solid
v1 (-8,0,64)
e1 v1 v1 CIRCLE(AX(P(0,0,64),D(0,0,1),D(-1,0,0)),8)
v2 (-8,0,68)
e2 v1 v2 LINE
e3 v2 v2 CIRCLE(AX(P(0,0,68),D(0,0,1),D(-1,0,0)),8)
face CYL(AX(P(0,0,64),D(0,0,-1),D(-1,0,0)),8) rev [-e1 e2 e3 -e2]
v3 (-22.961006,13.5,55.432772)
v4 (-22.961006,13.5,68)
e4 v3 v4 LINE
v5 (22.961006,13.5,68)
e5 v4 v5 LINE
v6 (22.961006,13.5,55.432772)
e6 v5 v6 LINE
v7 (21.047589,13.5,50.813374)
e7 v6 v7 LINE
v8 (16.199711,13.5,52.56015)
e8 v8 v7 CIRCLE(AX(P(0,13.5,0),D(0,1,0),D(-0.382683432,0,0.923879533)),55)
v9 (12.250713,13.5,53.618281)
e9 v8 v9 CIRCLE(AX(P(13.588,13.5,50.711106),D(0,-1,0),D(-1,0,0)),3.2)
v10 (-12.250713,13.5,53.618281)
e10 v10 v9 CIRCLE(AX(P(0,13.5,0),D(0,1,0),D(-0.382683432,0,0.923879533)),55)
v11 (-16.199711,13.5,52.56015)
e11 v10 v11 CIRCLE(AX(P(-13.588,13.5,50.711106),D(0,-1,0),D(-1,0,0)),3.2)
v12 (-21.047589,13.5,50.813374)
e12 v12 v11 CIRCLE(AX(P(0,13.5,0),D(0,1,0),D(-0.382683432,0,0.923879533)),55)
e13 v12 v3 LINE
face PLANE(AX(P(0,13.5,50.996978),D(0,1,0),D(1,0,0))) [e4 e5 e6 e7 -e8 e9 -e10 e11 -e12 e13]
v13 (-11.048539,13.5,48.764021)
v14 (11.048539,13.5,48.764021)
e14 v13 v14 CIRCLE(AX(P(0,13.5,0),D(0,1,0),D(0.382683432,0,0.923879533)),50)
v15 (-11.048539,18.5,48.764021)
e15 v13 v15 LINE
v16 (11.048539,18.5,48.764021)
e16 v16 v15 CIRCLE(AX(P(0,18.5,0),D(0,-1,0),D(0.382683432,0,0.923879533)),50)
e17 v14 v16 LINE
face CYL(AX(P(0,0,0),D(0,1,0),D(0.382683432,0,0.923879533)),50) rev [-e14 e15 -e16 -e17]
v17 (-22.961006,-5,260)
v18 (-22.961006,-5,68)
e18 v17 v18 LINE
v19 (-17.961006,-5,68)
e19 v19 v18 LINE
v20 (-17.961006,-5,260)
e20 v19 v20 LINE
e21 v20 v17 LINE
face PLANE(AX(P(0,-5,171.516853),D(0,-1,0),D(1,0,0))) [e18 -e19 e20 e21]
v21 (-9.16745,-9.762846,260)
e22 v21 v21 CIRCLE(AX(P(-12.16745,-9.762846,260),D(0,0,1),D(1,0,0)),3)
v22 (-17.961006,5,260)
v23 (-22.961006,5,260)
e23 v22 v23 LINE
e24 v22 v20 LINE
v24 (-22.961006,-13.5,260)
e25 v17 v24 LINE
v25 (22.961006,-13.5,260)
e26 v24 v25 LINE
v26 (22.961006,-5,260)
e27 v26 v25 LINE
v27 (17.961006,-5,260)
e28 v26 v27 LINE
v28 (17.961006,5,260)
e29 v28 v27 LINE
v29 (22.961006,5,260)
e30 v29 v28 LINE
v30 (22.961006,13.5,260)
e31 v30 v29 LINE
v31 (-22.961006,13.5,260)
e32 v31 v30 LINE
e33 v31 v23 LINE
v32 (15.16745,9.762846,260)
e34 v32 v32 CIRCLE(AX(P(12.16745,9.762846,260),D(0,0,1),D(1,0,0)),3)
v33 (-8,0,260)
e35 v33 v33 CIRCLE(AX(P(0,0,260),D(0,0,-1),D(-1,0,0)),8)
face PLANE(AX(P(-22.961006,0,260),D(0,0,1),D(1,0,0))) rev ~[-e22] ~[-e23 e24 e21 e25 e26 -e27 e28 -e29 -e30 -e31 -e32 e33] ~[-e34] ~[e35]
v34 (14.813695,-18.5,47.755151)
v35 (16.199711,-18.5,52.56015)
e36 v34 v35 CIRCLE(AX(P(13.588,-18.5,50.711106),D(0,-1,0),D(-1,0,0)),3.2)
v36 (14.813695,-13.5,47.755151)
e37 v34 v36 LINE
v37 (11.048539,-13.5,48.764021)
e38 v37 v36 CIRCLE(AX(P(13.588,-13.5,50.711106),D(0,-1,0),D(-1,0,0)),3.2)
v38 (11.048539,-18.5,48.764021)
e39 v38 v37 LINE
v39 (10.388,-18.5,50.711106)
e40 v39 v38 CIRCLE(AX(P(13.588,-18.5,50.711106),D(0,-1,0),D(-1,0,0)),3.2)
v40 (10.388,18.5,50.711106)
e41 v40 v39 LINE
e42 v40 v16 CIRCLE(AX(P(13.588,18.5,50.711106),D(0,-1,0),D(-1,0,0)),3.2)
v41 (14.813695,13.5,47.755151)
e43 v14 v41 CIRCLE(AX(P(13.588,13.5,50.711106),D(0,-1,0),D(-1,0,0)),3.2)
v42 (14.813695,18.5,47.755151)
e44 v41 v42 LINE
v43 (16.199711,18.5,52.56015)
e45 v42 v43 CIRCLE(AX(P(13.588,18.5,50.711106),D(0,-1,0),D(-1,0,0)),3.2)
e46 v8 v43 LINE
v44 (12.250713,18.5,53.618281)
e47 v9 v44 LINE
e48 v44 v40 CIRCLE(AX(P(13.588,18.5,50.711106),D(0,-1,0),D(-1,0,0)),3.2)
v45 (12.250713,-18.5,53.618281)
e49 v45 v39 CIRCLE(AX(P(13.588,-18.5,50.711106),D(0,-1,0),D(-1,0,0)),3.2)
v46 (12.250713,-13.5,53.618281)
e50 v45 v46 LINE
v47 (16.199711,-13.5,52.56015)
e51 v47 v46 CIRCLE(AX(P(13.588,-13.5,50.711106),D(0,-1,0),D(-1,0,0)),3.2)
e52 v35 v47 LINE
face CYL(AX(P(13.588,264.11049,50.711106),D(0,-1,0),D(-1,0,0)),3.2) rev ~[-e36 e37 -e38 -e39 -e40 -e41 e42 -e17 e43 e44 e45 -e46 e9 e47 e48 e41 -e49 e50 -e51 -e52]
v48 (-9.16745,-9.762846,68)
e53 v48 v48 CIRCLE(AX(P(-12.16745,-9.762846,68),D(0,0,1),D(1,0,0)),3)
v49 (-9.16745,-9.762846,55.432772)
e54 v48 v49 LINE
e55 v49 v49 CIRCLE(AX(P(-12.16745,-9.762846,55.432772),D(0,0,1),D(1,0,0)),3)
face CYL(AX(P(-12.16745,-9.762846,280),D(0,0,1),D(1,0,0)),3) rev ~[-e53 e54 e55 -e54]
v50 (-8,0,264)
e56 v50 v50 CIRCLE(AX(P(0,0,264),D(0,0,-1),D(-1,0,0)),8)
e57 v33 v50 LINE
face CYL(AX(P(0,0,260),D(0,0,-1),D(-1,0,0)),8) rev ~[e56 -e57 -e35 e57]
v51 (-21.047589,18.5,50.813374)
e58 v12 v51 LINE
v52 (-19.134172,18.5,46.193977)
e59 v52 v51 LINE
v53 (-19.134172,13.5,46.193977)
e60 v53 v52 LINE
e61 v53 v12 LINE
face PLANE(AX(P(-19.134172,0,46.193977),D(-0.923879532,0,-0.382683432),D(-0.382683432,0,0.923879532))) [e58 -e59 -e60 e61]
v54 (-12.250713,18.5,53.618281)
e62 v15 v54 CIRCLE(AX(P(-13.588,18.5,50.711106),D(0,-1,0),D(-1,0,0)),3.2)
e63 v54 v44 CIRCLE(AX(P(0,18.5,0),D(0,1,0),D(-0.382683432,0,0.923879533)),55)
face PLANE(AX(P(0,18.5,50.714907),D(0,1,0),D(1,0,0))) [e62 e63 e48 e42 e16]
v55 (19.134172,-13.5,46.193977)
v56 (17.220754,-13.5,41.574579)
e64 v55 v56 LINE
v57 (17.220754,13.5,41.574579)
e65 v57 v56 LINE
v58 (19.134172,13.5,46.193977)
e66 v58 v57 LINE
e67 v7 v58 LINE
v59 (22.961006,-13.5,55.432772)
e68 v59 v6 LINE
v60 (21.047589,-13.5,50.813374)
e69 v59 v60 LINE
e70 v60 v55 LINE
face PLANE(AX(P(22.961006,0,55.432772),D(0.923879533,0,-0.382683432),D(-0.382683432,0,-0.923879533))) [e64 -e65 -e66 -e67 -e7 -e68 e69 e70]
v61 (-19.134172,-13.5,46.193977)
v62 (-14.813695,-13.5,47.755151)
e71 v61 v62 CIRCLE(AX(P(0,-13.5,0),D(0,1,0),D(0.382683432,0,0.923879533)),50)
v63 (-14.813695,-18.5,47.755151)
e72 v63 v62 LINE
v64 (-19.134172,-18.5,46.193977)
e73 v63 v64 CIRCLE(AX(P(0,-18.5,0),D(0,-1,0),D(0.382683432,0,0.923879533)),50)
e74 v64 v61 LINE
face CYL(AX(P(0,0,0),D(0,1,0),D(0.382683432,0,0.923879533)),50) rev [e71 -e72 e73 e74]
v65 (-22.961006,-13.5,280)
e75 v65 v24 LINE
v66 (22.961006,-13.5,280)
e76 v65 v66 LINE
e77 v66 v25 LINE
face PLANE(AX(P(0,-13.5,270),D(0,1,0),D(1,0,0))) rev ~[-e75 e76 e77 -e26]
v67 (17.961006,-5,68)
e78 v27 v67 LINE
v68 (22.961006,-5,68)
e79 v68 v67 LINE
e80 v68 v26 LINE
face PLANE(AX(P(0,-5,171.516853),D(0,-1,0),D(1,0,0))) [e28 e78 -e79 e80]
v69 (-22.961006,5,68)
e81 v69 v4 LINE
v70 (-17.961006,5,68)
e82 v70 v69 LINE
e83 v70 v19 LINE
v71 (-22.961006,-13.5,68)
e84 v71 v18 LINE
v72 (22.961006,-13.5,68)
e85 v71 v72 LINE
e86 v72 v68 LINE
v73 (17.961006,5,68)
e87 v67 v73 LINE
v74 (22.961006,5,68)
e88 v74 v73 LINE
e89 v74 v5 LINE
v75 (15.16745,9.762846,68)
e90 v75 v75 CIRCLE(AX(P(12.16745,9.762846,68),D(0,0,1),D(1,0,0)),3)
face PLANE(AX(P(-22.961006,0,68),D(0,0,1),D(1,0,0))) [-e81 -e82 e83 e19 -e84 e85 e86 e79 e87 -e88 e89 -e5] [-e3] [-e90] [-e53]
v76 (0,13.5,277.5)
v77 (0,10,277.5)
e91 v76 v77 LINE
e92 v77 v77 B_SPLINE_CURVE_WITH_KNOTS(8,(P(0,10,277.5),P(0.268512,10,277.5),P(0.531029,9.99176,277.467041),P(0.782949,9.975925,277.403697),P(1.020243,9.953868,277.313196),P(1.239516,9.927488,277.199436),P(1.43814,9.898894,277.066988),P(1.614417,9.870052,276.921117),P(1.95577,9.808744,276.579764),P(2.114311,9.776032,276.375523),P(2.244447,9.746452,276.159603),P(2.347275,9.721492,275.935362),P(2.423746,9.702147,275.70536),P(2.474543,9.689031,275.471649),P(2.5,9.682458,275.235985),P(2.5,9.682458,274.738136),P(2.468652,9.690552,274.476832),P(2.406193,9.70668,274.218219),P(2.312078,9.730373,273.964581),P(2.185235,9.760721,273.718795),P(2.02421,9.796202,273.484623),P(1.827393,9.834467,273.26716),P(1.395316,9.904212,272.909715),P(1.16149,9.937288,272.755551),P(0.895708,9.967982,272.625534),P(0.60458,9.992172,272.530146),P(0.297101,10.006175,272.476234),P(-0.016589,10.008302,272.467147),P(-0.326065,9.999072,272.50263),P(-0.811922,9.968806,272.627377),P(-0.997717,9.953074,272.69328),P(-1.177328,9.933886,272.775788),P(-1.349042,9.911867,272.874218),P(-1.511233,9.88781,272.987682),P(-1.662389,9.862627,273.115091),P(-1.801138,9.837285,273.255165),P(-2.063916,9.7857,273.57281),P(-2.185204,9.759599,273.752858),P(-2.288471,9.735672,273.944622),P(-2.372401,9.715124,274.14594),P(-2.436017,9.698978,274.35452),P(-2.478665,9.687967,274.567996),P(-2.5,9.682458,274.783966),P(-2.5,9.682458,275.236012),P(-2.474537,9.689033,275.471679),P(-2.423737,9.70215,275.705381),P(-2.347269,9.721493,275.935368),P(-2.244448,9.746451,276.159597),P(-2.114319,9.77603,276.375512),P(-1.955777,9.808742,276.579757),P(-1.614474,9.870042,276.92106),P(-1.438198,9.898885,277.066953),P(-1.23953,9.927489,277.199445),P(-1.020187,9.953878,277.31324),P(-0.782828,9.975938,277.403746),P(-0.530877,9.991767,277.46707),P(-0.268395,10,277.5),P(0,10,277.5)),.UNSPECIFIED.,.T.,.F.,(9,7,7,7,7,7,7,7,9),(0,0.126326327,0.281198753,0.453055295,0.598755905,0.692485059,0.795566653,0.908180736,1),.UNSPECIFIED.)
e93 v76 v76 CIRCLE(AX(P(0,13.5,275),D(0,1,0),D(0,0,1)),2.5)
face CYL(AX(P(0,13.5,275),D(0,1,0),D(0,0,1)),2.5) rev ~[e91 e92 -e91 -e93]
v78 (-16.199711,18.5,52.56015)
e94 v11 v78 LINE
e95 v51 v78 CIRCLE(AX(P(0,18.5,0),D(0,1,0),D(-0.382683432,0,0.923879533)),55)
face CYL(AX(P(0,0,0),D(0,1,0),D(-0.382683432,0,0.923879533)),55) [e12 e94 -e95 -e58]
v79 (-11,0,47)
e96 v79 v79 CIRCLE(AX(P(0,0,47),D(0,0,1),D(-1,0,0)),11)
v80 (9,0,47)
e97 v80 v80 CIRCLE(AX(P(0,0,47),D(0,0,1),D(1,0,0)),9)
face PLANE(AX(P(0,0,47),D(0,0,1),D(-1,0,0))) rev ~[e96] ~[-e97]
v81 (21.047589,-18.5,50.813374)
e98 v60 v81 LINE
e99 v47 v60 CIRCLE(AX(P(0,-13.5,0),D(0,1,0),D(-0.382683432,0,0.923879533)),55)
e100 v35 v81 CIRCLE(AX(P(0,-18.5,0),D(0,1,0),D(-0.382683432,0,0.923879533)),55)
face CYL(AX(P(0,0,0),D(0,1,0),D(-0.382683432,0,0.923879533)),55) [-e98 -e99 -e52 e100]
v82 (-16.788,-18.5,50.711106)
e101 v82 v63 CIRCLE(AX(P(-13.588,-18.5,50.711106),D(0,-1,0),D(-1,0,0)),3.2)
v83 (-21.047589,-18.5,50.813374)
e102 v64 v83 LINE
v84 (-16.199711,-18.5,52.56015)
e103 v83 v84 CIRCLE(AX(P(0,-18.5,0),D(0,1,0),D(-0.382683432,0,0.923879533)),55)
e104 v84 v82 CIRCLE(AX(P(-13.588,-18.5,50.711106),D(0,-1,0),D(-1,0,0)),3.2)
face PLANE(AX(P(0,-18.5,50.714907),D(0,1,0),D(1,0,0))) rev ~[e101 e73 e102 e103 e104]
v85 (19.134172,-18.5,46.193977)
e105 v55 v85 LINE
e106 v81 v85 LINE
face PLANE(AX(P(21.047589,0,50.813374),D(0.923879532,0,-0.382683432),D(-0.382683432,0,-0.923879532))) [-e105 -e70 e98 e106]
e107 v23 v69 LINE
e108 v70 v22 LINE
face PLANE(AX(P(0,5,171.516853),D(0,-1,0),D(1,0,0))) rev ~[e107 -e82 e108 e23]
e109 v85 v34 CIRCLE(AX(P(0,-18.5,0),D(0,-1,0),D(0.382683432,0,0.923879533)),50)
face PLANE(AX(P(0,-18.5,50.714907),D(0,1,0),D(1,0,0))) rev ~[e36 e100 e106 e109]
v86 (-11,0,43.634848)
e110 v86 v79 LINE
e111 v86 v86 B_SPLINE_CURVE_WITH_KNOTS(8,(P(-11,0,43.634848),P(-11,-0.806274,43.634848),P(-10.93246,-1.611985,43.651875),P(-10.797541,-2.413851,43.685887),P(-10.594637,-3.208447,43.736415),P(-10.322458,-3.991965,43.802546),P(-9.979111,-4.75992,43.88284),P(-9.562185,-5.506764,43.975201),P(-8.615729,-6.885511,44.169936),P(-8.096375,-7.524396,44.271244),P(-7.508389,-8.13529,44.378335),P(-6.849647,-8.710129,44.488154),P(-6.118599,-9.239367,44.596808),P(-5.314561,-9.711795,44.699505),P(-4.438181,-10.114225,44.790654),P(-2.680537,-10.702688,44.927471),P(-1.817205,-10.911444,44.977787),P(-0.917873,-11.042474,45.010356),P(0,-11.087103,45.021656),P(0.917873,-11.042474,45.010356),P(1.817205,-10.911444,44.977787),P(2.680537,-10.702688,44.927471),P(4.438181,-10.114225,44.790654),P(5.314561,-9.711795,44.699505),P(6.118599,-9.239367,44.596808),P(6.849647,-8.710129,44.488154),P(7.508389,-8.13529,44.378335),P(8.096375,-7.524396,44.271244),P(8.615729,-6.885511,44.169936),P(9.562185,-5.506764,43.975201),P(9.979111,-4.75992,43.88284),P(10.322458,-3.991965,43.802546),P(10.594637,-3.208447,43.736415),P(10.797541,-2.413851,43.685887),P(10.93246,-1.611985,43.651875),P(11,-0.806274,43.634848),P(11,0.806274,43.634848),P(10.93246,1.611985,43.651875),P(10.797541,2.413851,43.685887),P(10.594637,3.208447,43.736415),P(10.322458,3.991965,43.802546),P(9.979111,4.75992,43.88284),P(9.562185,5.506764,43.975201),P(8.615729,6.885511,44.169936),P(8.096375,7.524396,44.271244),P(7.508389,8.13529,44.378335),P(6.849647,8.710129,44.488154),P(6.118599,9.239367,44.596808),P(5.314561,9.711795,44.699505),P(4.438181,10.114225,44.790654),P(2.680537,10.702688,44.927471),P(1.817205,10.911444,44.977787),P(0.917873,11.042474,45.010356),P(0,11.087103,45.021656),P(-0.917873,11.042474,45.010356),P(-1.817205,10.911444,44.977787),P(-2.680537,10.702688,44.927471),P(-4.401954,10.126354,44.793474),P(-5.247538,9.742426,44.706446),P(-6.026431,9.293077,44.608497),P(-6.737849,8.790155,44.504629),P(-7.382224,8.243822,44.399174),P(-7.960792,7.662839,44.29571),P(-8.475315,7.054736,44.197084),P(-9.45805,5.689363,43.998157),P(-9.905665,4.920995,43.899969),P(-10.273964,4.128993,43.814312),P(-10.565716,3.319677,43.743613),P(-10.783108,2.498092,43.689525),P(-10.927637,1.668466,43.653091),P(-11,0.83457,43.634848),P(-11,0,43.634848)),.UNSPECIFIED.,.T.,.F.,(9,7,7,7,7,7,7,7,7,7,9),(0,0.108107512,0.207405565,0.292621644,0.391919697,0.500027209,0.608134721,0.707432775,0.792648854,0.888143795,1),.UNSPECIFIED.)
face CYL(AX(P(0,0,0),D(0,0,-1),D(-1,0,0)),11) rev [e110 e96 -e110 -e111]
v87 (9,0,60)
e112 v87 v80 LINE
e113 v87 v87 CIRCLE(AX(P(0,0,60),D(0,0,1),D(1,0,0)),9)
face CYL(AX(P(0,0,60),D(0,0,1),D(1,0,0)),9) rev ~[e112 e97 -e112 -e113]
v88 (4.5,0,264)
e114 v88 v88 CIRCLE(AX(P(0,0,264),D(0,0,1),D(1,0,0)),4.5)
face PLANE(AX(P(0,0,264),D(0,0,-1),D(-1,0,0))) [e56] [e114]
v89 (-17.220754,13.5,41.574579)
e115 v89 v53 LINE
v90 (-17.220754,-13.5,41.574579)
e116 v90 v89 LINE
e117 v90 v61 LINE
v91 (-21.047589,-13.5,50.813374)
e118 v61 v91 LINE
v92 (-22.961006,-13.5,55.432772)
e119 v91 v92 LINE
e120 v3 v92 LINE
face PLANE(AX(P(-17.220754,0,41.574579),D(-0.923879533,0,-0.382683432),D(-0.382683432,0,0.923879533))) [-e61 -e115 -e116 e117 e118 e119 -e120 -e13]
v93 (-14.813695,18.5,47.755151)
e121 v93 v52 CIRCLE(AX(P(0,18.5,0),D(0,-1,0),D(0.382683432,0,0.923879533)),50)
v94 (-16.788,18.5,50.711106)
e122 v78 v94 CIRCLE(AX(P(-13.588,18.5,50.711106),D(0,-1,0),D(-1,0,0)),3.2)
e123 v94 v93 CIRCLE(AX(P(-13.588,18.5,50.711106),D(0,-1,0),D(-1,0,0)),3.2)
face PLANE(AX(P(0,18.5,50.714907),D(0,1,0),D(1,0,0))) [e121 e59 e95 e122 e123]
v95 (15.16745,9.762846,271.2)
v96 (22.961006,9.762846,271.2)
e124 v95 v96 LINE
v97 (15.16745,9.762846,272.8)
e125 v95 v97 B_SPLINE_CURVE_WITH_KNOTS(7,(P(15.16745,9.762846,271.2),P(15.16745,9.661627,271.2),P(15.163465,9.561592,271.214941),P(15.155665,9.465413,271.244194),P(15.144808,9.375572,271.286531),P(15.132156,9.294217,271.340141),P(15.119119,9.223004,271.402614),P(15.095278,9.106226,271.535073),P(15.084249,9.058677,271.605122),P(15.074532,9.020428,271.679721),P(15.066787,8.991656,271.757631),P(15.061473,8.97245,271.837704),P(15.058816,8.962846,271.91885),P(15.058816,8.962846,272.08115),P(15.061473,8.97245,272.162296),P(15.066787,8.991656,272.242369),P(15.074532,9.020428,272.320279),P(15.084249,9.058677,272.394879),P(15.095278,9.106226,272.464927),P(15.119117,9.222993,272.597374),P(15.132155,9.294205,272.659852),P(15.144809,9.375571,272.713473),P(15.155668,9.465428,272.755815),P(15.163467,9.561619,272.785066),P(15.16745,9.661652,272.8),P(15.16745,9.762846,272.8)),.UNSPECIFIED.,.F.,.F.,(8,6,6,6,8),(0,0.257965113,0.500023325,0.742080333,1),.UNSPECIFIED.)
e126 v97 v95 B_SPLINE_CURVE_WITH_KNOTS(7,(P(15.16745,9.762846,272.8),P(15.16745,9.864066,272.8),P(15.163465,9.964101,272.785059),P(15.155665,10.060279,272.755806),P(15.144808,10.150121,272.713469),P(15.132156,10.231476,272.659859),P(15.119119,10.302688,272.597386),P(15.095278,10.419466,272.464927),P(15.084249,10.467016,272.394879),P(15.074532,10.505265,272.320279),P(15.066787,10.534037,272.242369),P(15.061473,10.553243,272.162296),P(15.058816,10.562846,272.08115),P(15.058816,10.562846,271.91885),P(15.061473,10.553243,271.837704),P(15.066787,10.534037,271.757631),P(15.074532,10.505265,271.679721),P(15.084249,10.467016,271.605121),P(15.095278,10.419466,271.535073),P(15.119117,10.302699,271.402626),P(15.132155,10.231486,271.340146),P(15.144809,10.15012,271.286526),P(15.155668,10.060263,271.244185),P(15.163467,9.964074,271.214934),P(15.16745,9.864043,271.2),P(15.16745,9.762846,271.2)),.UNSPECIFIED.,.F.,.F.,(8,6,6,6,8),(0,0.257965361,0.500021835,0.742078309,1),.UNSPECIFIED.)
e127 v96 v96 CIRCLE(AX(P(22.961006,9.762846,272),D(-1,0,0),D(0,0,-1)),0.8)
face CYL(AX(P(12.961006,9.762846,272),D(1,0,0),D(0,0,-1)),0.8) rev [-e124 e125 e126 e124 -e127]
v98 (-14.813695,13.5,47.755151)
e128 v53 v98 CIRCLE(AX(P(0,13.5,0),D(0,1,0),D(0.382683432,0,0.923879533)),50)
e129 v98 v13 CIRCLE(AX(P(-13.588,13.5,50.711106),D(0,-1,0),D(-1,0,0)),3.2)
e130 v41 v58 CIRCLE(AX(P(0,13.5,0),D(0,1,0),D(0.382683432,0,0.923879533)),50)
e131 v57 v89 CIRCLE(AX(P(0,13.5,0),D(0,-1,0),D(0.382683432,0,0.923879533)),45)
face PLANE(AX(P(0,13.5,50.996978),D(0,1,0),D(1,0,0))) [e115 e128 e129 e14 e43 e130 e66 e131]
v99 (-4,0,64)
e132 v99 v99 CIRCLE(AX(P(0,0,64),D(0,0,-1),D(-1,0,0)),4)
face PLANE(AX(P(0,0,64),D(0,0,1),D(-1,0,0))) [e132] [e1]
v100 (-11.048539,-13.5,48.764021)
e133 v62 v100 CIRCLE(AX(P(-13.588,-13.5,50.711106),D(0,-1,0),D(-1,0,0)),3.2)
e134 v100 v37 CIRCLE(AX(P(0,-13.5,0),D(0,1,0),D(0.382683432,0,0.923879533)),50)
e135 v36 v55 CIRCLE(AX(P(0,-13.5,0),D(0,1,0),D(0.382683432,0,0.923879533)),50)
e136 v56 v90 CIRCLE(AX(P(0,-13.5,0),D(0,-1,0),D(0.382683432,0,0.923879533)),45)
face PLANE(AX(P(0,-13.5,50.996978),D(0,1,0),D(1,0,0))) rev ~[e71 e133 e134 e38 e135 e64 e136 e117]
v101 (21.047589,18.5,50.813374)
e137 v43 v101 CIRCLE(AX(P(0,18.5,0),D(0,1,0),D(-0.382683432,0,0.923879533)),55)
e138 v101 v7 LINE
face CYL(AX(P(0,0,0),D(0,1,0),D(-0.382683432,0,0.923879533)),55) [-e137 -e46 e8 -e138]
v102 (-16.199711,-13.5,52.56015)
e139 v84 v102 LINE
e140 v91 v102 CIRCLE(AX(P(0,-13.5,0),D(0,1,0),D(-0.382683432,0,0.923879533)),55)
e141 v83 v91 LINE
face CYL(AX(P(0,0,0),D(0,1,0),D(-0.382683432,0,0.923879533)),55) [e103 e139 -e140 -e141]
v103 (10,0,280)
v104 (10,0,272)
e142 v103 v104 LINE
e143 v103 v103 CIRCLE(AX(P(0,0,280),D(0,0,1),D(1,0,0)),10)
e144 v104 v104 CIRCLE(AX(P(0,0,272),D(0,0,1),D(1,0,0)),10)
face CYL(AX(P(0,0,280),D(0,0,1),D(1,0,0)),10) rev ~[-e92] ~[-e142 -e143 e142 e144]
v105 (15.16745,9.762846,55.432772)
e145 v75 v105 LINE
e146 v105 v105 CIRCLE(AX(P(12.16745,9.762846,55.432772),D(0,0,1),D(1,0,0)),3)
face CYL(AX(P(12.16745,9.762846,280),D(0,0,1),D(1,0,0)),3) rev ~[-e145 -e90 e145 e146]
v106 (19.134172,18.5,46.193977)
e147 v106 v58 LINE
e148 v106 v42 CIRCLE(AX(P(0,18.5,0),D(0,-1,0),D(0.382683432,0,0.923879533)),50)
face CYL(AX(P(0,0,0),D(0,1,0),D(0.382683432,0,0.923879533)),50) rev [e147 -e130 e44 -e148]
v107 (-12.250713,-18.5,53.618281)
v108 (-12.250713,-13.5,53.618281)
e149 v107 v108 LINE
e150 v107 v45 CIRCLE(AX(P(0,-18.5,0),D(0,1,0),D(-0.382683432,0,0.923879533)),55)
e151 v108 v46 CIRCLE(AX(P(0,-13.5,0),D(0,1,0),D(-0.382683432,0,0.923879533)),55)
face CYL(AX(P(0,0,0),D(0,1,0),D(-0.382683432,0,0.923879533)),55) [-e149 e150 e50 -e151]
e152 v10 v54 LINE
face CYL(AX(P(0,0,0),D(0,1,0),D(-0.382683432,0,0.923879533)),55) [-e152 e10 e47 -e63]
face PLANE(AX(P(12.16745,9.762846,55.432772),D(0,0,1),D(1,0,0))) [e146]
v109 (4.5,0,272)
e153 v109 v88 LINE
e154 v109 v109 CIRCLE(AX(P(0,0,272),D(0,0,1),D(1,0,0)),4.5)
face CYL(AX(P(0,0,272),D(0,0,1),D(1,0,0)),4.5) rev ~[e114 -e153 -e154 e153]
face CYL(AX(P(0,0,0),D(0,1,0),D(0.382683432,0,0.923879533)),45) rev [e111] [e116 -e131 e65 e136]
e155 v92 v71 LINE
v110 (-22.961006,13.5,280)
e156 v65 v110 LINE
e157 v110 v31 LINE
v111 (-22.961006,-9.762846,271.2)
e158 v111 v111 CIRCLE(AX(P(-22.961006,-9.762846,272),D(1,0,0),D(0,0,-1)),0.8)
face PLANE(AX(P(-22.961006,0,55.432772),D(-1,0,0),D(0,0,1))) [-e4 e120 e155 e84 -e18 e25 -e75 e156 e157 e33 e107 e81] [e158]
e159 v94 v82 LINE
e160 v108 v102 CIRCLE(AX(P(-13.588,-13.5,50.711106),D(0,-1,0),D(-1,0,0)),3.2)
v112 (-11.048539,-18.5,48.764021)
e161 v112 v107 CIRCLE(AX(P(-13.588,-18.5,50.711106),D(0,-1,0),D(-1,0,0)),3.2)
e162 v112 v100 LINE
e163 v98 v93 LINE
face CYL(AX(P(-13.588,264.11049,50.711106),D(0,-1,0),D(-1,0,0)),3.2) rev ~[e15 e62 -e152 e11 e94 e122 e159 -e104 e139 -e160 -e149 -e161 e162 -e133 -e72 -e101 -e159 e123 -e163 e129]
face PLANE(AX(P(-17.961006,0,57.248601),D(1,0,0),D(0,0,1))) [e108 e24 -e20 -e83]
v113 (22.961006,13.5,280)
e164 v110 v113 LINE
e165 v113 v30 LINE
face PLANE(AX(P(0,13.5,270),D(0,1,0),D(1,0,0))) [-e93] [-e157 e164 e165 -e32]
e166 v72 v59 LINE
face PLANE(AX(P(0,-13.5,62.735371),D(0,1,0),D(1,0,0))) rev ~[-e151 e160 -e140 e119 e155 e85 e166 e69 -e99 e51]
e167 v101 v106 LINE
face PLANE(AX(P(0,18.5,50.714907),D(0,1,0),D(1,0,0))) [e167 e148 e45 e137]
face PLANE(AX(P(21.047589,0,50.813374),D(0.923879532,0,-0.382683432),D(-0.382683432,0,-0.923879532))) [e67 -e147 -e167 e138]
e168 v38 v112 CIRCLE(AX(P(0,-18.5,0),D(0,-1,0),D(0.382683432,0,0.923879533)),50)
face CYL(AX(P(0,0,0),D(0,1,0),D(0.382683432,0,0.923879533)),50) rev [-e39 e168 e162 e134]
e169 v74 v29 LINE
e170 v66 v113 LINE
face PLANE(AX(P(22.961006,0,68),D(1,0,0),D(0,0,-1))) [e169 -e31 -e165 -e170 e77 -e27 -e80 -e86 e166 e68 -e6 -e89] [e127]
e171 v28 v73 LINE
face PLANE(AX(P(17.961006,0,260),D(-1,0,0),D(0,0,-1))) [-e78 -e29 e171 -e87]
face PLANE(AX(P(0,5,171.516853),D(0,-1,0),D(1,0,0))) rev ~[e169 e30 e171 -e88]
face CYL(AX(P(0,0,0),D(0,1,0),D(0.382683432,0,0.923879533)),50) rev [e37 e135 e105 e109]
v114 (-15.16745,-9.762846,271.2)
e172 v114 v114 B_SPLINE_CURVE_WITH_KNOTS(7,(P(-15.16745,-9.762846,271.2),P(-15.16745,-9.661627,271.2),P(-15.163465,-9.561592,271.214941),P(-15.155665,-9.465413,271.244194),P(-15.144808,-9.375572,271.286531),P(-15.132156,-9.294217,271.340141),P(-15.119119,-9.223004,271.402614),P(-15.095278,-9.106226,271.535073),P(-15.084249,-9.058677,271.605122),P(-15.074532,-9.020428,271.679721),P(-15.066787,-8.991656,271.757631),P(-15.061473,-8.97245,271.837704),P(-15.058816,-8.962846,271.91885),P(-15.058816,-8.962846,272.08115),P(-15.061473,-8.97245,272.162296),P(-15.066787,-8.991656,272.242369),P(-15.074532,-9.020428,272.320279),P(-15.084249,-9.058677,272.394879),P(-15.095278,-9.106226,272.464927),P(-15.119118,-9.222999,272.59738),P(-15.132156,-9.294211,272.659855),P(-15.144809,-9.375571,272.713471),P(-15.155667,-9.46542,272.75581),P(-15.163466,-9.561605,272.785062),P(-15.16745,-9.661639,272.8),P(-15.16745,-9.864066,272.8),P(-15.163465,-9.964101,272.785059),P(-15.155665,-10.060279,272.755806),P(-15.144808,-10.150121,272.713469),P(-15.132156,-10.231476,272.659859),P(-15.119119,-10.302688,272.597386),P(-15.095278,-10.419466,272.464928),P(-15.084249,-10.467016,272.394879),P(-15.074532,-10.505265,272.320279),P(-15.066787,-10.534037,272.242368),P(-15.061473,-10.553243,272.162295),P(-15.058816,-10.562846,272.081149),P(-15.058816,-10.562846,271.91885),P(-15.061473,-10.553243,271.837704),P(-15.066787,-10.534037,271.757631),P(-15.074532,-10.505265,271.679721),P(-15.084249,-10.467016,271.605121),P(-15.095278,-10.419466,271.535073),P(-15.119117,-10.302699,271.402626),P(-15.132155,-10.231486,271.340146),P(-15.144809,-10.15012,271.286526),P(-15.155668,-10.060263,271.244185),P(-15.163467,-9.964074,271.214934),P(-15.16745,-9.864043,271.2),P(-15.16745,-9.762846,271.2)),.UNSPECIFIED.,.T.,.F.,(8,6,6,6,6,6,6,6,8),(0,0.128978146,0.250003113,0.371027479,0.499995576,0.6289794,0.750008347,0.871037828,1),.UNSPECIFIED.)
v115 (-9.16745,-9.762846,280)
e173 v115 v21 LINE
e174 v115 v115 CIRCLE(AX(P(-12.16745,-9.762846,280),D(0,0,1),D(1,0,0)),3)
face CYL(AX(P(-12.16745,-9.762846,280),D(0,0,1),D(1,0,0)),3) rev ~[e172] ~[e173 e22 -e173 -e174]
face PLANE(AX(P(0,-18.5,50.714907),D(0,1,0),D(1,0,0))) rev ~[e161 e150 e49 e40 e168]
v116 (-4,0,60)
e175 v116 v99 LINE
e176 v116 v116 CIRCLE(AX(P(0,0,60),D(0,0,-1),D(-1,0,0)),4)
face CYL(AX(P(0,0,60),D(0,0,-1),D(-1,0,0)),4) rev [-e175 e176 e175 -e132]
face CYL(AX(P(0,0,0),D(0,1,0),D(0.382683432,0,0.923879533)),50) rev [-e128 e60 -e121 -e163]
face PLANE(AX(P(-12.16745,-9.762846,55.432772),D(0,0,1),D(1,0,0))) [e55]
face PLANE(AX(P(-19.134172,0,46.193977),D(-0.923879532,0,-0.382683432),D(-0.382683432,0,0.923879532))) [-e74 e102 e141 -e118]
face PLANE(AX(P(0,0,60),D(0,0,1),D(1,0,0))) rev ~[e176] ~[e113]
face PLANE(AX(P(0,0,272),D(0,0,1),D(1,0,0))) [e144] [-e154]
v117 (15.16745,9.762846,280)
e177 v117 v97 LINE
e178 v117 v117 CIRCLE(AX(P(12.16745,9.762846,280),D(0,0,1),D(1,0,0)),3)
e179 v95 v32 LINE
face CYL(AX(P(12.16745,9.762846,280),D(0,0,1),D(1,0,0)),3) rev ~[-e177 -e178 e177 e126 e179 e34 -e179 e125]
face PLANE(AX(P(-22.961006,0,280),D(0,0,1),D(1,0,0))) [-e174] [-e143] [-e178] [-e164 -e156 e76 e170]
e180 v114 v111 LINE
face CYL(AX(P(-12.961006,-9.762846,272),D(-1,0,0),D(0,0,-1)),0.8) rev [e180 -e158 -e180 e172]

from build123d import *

# Parameters (mm, degrees)
BOSS_EXTRUDE1_DEPTH      = 13.5
BOSS_EXTRUDE2_DEPTH      = 18.5
BOSS_EXTRUDE3_DEPTH      = 5
SKETCH4_W                = 45.922011884
SKETCH4_H                = 20
BOSS_EXTRUDE4_DEPTH      = 13.5
SKETCH2_R                = 4
CUT_EXTRUDE1_DEPTH       = 282.548322307
SKETCH5_R                = 8
CUT_EXTRUDE2_DEPTH       = 4
SKETCH6_R                = 10
CUT_EXTRUDE3_DEPTH       = 8
BOSS_EXTRUDE5_DEPTH      = 13.5
CUT_EXTRUDE5_REACH       = 223.967
CUT_EXTRUDE5_END_RADIUS  = 45
SKETCH8_R                = 9
CUT_EXTRUDE6_REACH       = 223.967
SKETCH10_R               = 4
CUT_EXTRUDE7_START       = -4
SKETCH11_R               = 8
CUT_EXTRUDE7_DEPTH       = 4
SKETCH15_R               = 3
CUT_EXTRUDE8_DEPTH       = 224.567228
M6_CLEARANCE_HOLE1_D     = 6.4
CUT_EXTRUDE9_REACH       = 234.304
SKETCH20_R               = 4.5
CIRPATTERN1_COUNT        = 2
CUT_EXTRUDE10_REACH      = 284.756
CUT_EXTRUDE10_END_RADIUS = 10
SKETCH21_R               = 2.5
SKETCH22_R               = 11
CUT_EXTRUDE11_DEPTH      = 47


with BuildPart() as part:
    # Sketch1 → Boss-Extrude1 (new, symmetric)
    with BuildSketch(Plane(origin=(0, 0, 0), x_dir=(1, 0, 0), z_dir=(0, 1, 0))):
        with BuildLine():
            ThreePointArc((17.220754456, -41.574578963), (0, -45), (-17.220754456, -41.574578963))
            Line((-17.220754456, -41.574578963), (-22.961005942, -55.432771951))
            ThreePointArc((-22.961005942, -55.432771951), (0, -60), (22.961005942, -55.432771951))
            Line((22.961005942, -55.432771951), (17.220754456, -41.574578963))
        make_face()
    extrude(amount=BOSS_EXTRUDE1_DEPTH, both=True)

    # Sketch1<3> → Boss-Extrude2 (add, symmetric)
    with BuildSketch(Plane(origin=(0, 0, 0), x_dir=(1, 0, 0), z_dir=(0, 1, 0))):
        with BuildLine():
            ThreePointArc((19.134171618, -46.193976626), (0, -50), (-19.134171618, -46.193976626))
            Line((-19.134171618, -46.193976626), (-21.04758878, -50.813374288))
            ThreePointArc((-21.04758878, -50.813374288), (0, -55), (21.04758878, -50.813374288))
            Line((21.04758878, -50.813374288), (19.134171618, -46.193976626))
        make_face()
    extrude(amount=BOSS_EXTRUDE2_DEPTH, both=True)

    # Sketch3 → Boss-Extrude3 (add, symmetric)
    with BuildSketch(Plane.XZ):
        with BuildLine():
            Line((-22.961005942, 280), (-22.961005942, 55.432771951))
            ThreePointArc((-22.961005942, 55.432771951), (-20.481139434, 56.39612511), (-17.961005942, 57.248600555))
            Line((-17.961005942, 57.248600555), (-17.961005942, 260))
            Line((-17.961005942, 260), (17.961005942, 260))
            Line((17.961005942, 260), (17.961005942, 57.248600555))
            ThreePointArc((17.961005942, 57.248600555), (20.481139434, 56.39612511), (22.961005942, 55.432771951))
            Line((22.961005942, 55.432771951), (22.961005942, 280))
            Line((22.961005942, 280), (-22.961005942, 280))
        make_face()
    extrude(amount=BOSS_EXTRUDE3_DEPTH, both=True)

    # Sketch4 → Boss-Extrude4 (add, symmetric)
    with BuildSketch(Plane(origin=(0, 0, 0), x_dir=(1, 0, 0), z_dir=(0, 1, 0))):
        with Locations((0, -270)):
            Rectangle(SKETCH4_W, SKETCH4_H)
    extrude(amount=BOSS_EXTRUDE4_DEPTH, both=True)

    # Sketch2 → Cut-Extrude1 (cut, through all)
    with BuildSketch(Plane.XY):
        with Locations(Location((0, 0, 0), (0, 0, 180))):
            Circle(SKETCH2_R)
    extrude(amount=CUT_EXTRUDE1_DEPTH, mode=Mode.SUBTRACT)

    # Sketch5 → Cut-Extrude2 (cut)
    with BuildSketch(Plane(origin=(0, 0, 260), x_dir=(-1, 0, 0), z_dir=(0, 0, -1))):
        Circle(SKETCH5_R)
    extrude(amount=-CUT_EXTRUDE2_DEPTH, mode=Mode.SUBTRACT)

    # Sketch6 → Cut-Extrude3 (cut)
    with BuildSketch(Plane.XY.offset(280)):
        Circle(SKETCH6_R)
    extrude(amount=-CUT_EXTRUDE3_DEPTH, mode=Mode.SUBTRACT)

    # Sketch9 → Boss-Extrude5 (add, symmetric)
    with BuildSketch(Plane(origin=(0, 0, 0), x_dir=(1, 0, 0), z_dir=(0, 1, 0))):
        with BuildLine():
            Line((-22.961005942, -55.432771951), (-22.961005942, -68))
            Line((-22.961005942, -68), (22.961005942, -68))
            Line((22.961005942, -68), (22.961005942, -55.432771951))
            ThreePointArc((22.961005942, -55.432771951), (0, -60), (-22.961005942, -55.432771951))
        make_face()
    extrude(amount=BOSS_EXTRUDE5_DEPTH, both=True)

    # Cut-Extrude5: up to this cylinder (the profile starts outside it)
    cut_extrude5_end = Plane(origin=(0, 0, 0), z_dir=(0, -1, 0)) * Cylinder(CUT_EXTRUDE5_END_RADIUS, 538.934, mode=Mode.PRIVATE)
    # Sketch8 → Cut-Extrude5 (cut, up to the surface)
    with BuildSketch(Plane.XY.offset(60), mode=Mode.PRIVATE) as cut_extrude5_sk1:
        Circle(SKETCH8_R)
    cut_extrude5_tool1 = extrude(cut_extrude5_sk1.sketch, amount=-CUT_EXTRUDE5_REACH, mode=Mode.PRIVATE) - cut_extrude5_end
    add(cut_extrude5_tool1.solids().sort_by_distance((0, 0, 60))[0], mode=Mode.SUBTRACT)

    # Sketch10 → Cut-Extrude6 (cut, up to next)
    with BuildSketch(Plane.XY.offset(60), mode=Mode.PRIVATE) as cut_extrude6_sk1:
        with Locations(Location((0, 0, 0), (0, 0, 180))):
            Circle(SKETCH10_R)
    cut_extrude6_tool1 = extrude(cut_extrude6_sk1.sketch, amount=CUT_EXTRUDE6_REACH, mode=Mode.PRIVATE) & part.part
    add(cut_extrude6_tool1.solids().sort_by_distance((0, 0, 60))[0], mode=Mode.SUBTRACT)

    # Sketch11 → Cut-Extrude7 (cut)
    with BuildSketch(Plane.XY.offset(68).offset(CUT_EXTRUDE7_START)):
        with Locations(Location((0, 0, 0), (0, 0, 180))):
            Circle(SKETCH11_R)
    extrude(amount=CUT_EXTRUDE7_DEPTH, mode=Mode.SUBTRACT)

    # Sketch15 → Cut-Extrude8 (cut)
    with BuildSketch(Plane.XY.offset(280)):
        with Locations((-12.167449647, -9.762846361)):
            Circle(SKETCH15_R)
        with Locations((12.167449647, 9.762846361)):
            Circle(SKETCH15_R)
    extrude(amount=-CUT_EXTRUDE8_DEPTH, mode=Mode.SUBTRACT)

    # Sketch17 → M2 Tapped Hole1 (revolve, cut)
    with BuildSketch(Plane(origin=(22.961005942, 9.762846361, 272), x_dir=(0, 0, -1), z_dir=(0, 1, 0))):
        Polygon((0, 0), (0, 10.480688495), (0.8, 10), (0.8, 0), align=None)
    m2_tapped_hole1 = revolve(axis=Axis((29.311005942, 9.762846361, 272), (-1, 0, 0)), mode=Mode.SUBTRACT)

    # M6 Clearance Hole1 (through all)
    with Locations(Plane(origin=(0, 18.5, 0), x_dir=(1, 0, 0), z_dir=(0, 1, 0))):
        with Locations((13.587999868, -50.71110588), (-13.587999868, -50.71110588)):
            Hole(M6_CLEARANCE_HOLE1_D / 2)

    # Sketch20 → Cut-Extrude9 (cut, up to next)
    with BuildSketch(Plane.XY.offset(272), mode=Mode.PRIVATE) as cut_extrude9_sk1:
        Circle(SKETCH20_R)
    cut_extrude9_tool1 = extrude(cut_extrude9_sk1.sketch, amount=-CUT_EXTRUDE9_REACH, mode=Mode.PRIVATE) & part.part
    add(cut_extrude9_tool1.solids().sort_by_distance((0, 0, 272))[0], mode=Mode.SUBTRACT)

    # CirPattern1: M2 Tapped Hole1 ×2 about axis
    cirpattern1_axis = Axis((0, 0, 68), (0, 0, 1))
    for i in range(1, CIRPATTERN1_COUNT):
        add(m2_tapped_hole1.rotate(cirpattern1_axis, i * 360 / CIRPATTERN1_COUNT), mode=Mode.SUBTRACT)

    # Cut-Extrude10: up to this cylinder (the profile starts outside it)
    cut_extrude10_end = Plane(origin=(0, 0, 275), z_dir=(0, 0, 1)) * Cylinder(CUT_EXTRUDE10_END_RADIUS, 590.512, mode=Mode.PRIVATE)
    # Sketch21 → Cut-Extrude10 (cut, up to the surface)
    with BuildSketch(Plane(origin=(0, 13.5, 0), x_dir=(1, 0, 0), z_dir=(0, 1, 0)), mode=Mode.PRIVATE) as cut_extrude10_sk1:
        with Locations(Location((0, -275, 0), (0, 0, 270))):
            Circle(SKETCH21_R)
    cut_extrude10_tool1 = extrude(cut_extrude10_sk1.sketch, amount=-CUT_EXTRUDE10_REACH, mode=Mode.PRIVATE) - cut_extrude10_end
    add(cut_extrude10_tool1.solids().sort_by_distance((0, 13.5, 275))[0], mode=Mode.SUBTRACT)

    # Sketch22 → Cut-Extrude11 (cut)
    with BuildSketch(Plane.XY):
        with Locations(Location((0, 0, 0), (0, 0, 180))):
            Circle(SKETCH22_R)
    extrude(amount=CUT_EXTRUDE11_DEPTH, mode=Mode.SUBTRACT)


solid = part.part
